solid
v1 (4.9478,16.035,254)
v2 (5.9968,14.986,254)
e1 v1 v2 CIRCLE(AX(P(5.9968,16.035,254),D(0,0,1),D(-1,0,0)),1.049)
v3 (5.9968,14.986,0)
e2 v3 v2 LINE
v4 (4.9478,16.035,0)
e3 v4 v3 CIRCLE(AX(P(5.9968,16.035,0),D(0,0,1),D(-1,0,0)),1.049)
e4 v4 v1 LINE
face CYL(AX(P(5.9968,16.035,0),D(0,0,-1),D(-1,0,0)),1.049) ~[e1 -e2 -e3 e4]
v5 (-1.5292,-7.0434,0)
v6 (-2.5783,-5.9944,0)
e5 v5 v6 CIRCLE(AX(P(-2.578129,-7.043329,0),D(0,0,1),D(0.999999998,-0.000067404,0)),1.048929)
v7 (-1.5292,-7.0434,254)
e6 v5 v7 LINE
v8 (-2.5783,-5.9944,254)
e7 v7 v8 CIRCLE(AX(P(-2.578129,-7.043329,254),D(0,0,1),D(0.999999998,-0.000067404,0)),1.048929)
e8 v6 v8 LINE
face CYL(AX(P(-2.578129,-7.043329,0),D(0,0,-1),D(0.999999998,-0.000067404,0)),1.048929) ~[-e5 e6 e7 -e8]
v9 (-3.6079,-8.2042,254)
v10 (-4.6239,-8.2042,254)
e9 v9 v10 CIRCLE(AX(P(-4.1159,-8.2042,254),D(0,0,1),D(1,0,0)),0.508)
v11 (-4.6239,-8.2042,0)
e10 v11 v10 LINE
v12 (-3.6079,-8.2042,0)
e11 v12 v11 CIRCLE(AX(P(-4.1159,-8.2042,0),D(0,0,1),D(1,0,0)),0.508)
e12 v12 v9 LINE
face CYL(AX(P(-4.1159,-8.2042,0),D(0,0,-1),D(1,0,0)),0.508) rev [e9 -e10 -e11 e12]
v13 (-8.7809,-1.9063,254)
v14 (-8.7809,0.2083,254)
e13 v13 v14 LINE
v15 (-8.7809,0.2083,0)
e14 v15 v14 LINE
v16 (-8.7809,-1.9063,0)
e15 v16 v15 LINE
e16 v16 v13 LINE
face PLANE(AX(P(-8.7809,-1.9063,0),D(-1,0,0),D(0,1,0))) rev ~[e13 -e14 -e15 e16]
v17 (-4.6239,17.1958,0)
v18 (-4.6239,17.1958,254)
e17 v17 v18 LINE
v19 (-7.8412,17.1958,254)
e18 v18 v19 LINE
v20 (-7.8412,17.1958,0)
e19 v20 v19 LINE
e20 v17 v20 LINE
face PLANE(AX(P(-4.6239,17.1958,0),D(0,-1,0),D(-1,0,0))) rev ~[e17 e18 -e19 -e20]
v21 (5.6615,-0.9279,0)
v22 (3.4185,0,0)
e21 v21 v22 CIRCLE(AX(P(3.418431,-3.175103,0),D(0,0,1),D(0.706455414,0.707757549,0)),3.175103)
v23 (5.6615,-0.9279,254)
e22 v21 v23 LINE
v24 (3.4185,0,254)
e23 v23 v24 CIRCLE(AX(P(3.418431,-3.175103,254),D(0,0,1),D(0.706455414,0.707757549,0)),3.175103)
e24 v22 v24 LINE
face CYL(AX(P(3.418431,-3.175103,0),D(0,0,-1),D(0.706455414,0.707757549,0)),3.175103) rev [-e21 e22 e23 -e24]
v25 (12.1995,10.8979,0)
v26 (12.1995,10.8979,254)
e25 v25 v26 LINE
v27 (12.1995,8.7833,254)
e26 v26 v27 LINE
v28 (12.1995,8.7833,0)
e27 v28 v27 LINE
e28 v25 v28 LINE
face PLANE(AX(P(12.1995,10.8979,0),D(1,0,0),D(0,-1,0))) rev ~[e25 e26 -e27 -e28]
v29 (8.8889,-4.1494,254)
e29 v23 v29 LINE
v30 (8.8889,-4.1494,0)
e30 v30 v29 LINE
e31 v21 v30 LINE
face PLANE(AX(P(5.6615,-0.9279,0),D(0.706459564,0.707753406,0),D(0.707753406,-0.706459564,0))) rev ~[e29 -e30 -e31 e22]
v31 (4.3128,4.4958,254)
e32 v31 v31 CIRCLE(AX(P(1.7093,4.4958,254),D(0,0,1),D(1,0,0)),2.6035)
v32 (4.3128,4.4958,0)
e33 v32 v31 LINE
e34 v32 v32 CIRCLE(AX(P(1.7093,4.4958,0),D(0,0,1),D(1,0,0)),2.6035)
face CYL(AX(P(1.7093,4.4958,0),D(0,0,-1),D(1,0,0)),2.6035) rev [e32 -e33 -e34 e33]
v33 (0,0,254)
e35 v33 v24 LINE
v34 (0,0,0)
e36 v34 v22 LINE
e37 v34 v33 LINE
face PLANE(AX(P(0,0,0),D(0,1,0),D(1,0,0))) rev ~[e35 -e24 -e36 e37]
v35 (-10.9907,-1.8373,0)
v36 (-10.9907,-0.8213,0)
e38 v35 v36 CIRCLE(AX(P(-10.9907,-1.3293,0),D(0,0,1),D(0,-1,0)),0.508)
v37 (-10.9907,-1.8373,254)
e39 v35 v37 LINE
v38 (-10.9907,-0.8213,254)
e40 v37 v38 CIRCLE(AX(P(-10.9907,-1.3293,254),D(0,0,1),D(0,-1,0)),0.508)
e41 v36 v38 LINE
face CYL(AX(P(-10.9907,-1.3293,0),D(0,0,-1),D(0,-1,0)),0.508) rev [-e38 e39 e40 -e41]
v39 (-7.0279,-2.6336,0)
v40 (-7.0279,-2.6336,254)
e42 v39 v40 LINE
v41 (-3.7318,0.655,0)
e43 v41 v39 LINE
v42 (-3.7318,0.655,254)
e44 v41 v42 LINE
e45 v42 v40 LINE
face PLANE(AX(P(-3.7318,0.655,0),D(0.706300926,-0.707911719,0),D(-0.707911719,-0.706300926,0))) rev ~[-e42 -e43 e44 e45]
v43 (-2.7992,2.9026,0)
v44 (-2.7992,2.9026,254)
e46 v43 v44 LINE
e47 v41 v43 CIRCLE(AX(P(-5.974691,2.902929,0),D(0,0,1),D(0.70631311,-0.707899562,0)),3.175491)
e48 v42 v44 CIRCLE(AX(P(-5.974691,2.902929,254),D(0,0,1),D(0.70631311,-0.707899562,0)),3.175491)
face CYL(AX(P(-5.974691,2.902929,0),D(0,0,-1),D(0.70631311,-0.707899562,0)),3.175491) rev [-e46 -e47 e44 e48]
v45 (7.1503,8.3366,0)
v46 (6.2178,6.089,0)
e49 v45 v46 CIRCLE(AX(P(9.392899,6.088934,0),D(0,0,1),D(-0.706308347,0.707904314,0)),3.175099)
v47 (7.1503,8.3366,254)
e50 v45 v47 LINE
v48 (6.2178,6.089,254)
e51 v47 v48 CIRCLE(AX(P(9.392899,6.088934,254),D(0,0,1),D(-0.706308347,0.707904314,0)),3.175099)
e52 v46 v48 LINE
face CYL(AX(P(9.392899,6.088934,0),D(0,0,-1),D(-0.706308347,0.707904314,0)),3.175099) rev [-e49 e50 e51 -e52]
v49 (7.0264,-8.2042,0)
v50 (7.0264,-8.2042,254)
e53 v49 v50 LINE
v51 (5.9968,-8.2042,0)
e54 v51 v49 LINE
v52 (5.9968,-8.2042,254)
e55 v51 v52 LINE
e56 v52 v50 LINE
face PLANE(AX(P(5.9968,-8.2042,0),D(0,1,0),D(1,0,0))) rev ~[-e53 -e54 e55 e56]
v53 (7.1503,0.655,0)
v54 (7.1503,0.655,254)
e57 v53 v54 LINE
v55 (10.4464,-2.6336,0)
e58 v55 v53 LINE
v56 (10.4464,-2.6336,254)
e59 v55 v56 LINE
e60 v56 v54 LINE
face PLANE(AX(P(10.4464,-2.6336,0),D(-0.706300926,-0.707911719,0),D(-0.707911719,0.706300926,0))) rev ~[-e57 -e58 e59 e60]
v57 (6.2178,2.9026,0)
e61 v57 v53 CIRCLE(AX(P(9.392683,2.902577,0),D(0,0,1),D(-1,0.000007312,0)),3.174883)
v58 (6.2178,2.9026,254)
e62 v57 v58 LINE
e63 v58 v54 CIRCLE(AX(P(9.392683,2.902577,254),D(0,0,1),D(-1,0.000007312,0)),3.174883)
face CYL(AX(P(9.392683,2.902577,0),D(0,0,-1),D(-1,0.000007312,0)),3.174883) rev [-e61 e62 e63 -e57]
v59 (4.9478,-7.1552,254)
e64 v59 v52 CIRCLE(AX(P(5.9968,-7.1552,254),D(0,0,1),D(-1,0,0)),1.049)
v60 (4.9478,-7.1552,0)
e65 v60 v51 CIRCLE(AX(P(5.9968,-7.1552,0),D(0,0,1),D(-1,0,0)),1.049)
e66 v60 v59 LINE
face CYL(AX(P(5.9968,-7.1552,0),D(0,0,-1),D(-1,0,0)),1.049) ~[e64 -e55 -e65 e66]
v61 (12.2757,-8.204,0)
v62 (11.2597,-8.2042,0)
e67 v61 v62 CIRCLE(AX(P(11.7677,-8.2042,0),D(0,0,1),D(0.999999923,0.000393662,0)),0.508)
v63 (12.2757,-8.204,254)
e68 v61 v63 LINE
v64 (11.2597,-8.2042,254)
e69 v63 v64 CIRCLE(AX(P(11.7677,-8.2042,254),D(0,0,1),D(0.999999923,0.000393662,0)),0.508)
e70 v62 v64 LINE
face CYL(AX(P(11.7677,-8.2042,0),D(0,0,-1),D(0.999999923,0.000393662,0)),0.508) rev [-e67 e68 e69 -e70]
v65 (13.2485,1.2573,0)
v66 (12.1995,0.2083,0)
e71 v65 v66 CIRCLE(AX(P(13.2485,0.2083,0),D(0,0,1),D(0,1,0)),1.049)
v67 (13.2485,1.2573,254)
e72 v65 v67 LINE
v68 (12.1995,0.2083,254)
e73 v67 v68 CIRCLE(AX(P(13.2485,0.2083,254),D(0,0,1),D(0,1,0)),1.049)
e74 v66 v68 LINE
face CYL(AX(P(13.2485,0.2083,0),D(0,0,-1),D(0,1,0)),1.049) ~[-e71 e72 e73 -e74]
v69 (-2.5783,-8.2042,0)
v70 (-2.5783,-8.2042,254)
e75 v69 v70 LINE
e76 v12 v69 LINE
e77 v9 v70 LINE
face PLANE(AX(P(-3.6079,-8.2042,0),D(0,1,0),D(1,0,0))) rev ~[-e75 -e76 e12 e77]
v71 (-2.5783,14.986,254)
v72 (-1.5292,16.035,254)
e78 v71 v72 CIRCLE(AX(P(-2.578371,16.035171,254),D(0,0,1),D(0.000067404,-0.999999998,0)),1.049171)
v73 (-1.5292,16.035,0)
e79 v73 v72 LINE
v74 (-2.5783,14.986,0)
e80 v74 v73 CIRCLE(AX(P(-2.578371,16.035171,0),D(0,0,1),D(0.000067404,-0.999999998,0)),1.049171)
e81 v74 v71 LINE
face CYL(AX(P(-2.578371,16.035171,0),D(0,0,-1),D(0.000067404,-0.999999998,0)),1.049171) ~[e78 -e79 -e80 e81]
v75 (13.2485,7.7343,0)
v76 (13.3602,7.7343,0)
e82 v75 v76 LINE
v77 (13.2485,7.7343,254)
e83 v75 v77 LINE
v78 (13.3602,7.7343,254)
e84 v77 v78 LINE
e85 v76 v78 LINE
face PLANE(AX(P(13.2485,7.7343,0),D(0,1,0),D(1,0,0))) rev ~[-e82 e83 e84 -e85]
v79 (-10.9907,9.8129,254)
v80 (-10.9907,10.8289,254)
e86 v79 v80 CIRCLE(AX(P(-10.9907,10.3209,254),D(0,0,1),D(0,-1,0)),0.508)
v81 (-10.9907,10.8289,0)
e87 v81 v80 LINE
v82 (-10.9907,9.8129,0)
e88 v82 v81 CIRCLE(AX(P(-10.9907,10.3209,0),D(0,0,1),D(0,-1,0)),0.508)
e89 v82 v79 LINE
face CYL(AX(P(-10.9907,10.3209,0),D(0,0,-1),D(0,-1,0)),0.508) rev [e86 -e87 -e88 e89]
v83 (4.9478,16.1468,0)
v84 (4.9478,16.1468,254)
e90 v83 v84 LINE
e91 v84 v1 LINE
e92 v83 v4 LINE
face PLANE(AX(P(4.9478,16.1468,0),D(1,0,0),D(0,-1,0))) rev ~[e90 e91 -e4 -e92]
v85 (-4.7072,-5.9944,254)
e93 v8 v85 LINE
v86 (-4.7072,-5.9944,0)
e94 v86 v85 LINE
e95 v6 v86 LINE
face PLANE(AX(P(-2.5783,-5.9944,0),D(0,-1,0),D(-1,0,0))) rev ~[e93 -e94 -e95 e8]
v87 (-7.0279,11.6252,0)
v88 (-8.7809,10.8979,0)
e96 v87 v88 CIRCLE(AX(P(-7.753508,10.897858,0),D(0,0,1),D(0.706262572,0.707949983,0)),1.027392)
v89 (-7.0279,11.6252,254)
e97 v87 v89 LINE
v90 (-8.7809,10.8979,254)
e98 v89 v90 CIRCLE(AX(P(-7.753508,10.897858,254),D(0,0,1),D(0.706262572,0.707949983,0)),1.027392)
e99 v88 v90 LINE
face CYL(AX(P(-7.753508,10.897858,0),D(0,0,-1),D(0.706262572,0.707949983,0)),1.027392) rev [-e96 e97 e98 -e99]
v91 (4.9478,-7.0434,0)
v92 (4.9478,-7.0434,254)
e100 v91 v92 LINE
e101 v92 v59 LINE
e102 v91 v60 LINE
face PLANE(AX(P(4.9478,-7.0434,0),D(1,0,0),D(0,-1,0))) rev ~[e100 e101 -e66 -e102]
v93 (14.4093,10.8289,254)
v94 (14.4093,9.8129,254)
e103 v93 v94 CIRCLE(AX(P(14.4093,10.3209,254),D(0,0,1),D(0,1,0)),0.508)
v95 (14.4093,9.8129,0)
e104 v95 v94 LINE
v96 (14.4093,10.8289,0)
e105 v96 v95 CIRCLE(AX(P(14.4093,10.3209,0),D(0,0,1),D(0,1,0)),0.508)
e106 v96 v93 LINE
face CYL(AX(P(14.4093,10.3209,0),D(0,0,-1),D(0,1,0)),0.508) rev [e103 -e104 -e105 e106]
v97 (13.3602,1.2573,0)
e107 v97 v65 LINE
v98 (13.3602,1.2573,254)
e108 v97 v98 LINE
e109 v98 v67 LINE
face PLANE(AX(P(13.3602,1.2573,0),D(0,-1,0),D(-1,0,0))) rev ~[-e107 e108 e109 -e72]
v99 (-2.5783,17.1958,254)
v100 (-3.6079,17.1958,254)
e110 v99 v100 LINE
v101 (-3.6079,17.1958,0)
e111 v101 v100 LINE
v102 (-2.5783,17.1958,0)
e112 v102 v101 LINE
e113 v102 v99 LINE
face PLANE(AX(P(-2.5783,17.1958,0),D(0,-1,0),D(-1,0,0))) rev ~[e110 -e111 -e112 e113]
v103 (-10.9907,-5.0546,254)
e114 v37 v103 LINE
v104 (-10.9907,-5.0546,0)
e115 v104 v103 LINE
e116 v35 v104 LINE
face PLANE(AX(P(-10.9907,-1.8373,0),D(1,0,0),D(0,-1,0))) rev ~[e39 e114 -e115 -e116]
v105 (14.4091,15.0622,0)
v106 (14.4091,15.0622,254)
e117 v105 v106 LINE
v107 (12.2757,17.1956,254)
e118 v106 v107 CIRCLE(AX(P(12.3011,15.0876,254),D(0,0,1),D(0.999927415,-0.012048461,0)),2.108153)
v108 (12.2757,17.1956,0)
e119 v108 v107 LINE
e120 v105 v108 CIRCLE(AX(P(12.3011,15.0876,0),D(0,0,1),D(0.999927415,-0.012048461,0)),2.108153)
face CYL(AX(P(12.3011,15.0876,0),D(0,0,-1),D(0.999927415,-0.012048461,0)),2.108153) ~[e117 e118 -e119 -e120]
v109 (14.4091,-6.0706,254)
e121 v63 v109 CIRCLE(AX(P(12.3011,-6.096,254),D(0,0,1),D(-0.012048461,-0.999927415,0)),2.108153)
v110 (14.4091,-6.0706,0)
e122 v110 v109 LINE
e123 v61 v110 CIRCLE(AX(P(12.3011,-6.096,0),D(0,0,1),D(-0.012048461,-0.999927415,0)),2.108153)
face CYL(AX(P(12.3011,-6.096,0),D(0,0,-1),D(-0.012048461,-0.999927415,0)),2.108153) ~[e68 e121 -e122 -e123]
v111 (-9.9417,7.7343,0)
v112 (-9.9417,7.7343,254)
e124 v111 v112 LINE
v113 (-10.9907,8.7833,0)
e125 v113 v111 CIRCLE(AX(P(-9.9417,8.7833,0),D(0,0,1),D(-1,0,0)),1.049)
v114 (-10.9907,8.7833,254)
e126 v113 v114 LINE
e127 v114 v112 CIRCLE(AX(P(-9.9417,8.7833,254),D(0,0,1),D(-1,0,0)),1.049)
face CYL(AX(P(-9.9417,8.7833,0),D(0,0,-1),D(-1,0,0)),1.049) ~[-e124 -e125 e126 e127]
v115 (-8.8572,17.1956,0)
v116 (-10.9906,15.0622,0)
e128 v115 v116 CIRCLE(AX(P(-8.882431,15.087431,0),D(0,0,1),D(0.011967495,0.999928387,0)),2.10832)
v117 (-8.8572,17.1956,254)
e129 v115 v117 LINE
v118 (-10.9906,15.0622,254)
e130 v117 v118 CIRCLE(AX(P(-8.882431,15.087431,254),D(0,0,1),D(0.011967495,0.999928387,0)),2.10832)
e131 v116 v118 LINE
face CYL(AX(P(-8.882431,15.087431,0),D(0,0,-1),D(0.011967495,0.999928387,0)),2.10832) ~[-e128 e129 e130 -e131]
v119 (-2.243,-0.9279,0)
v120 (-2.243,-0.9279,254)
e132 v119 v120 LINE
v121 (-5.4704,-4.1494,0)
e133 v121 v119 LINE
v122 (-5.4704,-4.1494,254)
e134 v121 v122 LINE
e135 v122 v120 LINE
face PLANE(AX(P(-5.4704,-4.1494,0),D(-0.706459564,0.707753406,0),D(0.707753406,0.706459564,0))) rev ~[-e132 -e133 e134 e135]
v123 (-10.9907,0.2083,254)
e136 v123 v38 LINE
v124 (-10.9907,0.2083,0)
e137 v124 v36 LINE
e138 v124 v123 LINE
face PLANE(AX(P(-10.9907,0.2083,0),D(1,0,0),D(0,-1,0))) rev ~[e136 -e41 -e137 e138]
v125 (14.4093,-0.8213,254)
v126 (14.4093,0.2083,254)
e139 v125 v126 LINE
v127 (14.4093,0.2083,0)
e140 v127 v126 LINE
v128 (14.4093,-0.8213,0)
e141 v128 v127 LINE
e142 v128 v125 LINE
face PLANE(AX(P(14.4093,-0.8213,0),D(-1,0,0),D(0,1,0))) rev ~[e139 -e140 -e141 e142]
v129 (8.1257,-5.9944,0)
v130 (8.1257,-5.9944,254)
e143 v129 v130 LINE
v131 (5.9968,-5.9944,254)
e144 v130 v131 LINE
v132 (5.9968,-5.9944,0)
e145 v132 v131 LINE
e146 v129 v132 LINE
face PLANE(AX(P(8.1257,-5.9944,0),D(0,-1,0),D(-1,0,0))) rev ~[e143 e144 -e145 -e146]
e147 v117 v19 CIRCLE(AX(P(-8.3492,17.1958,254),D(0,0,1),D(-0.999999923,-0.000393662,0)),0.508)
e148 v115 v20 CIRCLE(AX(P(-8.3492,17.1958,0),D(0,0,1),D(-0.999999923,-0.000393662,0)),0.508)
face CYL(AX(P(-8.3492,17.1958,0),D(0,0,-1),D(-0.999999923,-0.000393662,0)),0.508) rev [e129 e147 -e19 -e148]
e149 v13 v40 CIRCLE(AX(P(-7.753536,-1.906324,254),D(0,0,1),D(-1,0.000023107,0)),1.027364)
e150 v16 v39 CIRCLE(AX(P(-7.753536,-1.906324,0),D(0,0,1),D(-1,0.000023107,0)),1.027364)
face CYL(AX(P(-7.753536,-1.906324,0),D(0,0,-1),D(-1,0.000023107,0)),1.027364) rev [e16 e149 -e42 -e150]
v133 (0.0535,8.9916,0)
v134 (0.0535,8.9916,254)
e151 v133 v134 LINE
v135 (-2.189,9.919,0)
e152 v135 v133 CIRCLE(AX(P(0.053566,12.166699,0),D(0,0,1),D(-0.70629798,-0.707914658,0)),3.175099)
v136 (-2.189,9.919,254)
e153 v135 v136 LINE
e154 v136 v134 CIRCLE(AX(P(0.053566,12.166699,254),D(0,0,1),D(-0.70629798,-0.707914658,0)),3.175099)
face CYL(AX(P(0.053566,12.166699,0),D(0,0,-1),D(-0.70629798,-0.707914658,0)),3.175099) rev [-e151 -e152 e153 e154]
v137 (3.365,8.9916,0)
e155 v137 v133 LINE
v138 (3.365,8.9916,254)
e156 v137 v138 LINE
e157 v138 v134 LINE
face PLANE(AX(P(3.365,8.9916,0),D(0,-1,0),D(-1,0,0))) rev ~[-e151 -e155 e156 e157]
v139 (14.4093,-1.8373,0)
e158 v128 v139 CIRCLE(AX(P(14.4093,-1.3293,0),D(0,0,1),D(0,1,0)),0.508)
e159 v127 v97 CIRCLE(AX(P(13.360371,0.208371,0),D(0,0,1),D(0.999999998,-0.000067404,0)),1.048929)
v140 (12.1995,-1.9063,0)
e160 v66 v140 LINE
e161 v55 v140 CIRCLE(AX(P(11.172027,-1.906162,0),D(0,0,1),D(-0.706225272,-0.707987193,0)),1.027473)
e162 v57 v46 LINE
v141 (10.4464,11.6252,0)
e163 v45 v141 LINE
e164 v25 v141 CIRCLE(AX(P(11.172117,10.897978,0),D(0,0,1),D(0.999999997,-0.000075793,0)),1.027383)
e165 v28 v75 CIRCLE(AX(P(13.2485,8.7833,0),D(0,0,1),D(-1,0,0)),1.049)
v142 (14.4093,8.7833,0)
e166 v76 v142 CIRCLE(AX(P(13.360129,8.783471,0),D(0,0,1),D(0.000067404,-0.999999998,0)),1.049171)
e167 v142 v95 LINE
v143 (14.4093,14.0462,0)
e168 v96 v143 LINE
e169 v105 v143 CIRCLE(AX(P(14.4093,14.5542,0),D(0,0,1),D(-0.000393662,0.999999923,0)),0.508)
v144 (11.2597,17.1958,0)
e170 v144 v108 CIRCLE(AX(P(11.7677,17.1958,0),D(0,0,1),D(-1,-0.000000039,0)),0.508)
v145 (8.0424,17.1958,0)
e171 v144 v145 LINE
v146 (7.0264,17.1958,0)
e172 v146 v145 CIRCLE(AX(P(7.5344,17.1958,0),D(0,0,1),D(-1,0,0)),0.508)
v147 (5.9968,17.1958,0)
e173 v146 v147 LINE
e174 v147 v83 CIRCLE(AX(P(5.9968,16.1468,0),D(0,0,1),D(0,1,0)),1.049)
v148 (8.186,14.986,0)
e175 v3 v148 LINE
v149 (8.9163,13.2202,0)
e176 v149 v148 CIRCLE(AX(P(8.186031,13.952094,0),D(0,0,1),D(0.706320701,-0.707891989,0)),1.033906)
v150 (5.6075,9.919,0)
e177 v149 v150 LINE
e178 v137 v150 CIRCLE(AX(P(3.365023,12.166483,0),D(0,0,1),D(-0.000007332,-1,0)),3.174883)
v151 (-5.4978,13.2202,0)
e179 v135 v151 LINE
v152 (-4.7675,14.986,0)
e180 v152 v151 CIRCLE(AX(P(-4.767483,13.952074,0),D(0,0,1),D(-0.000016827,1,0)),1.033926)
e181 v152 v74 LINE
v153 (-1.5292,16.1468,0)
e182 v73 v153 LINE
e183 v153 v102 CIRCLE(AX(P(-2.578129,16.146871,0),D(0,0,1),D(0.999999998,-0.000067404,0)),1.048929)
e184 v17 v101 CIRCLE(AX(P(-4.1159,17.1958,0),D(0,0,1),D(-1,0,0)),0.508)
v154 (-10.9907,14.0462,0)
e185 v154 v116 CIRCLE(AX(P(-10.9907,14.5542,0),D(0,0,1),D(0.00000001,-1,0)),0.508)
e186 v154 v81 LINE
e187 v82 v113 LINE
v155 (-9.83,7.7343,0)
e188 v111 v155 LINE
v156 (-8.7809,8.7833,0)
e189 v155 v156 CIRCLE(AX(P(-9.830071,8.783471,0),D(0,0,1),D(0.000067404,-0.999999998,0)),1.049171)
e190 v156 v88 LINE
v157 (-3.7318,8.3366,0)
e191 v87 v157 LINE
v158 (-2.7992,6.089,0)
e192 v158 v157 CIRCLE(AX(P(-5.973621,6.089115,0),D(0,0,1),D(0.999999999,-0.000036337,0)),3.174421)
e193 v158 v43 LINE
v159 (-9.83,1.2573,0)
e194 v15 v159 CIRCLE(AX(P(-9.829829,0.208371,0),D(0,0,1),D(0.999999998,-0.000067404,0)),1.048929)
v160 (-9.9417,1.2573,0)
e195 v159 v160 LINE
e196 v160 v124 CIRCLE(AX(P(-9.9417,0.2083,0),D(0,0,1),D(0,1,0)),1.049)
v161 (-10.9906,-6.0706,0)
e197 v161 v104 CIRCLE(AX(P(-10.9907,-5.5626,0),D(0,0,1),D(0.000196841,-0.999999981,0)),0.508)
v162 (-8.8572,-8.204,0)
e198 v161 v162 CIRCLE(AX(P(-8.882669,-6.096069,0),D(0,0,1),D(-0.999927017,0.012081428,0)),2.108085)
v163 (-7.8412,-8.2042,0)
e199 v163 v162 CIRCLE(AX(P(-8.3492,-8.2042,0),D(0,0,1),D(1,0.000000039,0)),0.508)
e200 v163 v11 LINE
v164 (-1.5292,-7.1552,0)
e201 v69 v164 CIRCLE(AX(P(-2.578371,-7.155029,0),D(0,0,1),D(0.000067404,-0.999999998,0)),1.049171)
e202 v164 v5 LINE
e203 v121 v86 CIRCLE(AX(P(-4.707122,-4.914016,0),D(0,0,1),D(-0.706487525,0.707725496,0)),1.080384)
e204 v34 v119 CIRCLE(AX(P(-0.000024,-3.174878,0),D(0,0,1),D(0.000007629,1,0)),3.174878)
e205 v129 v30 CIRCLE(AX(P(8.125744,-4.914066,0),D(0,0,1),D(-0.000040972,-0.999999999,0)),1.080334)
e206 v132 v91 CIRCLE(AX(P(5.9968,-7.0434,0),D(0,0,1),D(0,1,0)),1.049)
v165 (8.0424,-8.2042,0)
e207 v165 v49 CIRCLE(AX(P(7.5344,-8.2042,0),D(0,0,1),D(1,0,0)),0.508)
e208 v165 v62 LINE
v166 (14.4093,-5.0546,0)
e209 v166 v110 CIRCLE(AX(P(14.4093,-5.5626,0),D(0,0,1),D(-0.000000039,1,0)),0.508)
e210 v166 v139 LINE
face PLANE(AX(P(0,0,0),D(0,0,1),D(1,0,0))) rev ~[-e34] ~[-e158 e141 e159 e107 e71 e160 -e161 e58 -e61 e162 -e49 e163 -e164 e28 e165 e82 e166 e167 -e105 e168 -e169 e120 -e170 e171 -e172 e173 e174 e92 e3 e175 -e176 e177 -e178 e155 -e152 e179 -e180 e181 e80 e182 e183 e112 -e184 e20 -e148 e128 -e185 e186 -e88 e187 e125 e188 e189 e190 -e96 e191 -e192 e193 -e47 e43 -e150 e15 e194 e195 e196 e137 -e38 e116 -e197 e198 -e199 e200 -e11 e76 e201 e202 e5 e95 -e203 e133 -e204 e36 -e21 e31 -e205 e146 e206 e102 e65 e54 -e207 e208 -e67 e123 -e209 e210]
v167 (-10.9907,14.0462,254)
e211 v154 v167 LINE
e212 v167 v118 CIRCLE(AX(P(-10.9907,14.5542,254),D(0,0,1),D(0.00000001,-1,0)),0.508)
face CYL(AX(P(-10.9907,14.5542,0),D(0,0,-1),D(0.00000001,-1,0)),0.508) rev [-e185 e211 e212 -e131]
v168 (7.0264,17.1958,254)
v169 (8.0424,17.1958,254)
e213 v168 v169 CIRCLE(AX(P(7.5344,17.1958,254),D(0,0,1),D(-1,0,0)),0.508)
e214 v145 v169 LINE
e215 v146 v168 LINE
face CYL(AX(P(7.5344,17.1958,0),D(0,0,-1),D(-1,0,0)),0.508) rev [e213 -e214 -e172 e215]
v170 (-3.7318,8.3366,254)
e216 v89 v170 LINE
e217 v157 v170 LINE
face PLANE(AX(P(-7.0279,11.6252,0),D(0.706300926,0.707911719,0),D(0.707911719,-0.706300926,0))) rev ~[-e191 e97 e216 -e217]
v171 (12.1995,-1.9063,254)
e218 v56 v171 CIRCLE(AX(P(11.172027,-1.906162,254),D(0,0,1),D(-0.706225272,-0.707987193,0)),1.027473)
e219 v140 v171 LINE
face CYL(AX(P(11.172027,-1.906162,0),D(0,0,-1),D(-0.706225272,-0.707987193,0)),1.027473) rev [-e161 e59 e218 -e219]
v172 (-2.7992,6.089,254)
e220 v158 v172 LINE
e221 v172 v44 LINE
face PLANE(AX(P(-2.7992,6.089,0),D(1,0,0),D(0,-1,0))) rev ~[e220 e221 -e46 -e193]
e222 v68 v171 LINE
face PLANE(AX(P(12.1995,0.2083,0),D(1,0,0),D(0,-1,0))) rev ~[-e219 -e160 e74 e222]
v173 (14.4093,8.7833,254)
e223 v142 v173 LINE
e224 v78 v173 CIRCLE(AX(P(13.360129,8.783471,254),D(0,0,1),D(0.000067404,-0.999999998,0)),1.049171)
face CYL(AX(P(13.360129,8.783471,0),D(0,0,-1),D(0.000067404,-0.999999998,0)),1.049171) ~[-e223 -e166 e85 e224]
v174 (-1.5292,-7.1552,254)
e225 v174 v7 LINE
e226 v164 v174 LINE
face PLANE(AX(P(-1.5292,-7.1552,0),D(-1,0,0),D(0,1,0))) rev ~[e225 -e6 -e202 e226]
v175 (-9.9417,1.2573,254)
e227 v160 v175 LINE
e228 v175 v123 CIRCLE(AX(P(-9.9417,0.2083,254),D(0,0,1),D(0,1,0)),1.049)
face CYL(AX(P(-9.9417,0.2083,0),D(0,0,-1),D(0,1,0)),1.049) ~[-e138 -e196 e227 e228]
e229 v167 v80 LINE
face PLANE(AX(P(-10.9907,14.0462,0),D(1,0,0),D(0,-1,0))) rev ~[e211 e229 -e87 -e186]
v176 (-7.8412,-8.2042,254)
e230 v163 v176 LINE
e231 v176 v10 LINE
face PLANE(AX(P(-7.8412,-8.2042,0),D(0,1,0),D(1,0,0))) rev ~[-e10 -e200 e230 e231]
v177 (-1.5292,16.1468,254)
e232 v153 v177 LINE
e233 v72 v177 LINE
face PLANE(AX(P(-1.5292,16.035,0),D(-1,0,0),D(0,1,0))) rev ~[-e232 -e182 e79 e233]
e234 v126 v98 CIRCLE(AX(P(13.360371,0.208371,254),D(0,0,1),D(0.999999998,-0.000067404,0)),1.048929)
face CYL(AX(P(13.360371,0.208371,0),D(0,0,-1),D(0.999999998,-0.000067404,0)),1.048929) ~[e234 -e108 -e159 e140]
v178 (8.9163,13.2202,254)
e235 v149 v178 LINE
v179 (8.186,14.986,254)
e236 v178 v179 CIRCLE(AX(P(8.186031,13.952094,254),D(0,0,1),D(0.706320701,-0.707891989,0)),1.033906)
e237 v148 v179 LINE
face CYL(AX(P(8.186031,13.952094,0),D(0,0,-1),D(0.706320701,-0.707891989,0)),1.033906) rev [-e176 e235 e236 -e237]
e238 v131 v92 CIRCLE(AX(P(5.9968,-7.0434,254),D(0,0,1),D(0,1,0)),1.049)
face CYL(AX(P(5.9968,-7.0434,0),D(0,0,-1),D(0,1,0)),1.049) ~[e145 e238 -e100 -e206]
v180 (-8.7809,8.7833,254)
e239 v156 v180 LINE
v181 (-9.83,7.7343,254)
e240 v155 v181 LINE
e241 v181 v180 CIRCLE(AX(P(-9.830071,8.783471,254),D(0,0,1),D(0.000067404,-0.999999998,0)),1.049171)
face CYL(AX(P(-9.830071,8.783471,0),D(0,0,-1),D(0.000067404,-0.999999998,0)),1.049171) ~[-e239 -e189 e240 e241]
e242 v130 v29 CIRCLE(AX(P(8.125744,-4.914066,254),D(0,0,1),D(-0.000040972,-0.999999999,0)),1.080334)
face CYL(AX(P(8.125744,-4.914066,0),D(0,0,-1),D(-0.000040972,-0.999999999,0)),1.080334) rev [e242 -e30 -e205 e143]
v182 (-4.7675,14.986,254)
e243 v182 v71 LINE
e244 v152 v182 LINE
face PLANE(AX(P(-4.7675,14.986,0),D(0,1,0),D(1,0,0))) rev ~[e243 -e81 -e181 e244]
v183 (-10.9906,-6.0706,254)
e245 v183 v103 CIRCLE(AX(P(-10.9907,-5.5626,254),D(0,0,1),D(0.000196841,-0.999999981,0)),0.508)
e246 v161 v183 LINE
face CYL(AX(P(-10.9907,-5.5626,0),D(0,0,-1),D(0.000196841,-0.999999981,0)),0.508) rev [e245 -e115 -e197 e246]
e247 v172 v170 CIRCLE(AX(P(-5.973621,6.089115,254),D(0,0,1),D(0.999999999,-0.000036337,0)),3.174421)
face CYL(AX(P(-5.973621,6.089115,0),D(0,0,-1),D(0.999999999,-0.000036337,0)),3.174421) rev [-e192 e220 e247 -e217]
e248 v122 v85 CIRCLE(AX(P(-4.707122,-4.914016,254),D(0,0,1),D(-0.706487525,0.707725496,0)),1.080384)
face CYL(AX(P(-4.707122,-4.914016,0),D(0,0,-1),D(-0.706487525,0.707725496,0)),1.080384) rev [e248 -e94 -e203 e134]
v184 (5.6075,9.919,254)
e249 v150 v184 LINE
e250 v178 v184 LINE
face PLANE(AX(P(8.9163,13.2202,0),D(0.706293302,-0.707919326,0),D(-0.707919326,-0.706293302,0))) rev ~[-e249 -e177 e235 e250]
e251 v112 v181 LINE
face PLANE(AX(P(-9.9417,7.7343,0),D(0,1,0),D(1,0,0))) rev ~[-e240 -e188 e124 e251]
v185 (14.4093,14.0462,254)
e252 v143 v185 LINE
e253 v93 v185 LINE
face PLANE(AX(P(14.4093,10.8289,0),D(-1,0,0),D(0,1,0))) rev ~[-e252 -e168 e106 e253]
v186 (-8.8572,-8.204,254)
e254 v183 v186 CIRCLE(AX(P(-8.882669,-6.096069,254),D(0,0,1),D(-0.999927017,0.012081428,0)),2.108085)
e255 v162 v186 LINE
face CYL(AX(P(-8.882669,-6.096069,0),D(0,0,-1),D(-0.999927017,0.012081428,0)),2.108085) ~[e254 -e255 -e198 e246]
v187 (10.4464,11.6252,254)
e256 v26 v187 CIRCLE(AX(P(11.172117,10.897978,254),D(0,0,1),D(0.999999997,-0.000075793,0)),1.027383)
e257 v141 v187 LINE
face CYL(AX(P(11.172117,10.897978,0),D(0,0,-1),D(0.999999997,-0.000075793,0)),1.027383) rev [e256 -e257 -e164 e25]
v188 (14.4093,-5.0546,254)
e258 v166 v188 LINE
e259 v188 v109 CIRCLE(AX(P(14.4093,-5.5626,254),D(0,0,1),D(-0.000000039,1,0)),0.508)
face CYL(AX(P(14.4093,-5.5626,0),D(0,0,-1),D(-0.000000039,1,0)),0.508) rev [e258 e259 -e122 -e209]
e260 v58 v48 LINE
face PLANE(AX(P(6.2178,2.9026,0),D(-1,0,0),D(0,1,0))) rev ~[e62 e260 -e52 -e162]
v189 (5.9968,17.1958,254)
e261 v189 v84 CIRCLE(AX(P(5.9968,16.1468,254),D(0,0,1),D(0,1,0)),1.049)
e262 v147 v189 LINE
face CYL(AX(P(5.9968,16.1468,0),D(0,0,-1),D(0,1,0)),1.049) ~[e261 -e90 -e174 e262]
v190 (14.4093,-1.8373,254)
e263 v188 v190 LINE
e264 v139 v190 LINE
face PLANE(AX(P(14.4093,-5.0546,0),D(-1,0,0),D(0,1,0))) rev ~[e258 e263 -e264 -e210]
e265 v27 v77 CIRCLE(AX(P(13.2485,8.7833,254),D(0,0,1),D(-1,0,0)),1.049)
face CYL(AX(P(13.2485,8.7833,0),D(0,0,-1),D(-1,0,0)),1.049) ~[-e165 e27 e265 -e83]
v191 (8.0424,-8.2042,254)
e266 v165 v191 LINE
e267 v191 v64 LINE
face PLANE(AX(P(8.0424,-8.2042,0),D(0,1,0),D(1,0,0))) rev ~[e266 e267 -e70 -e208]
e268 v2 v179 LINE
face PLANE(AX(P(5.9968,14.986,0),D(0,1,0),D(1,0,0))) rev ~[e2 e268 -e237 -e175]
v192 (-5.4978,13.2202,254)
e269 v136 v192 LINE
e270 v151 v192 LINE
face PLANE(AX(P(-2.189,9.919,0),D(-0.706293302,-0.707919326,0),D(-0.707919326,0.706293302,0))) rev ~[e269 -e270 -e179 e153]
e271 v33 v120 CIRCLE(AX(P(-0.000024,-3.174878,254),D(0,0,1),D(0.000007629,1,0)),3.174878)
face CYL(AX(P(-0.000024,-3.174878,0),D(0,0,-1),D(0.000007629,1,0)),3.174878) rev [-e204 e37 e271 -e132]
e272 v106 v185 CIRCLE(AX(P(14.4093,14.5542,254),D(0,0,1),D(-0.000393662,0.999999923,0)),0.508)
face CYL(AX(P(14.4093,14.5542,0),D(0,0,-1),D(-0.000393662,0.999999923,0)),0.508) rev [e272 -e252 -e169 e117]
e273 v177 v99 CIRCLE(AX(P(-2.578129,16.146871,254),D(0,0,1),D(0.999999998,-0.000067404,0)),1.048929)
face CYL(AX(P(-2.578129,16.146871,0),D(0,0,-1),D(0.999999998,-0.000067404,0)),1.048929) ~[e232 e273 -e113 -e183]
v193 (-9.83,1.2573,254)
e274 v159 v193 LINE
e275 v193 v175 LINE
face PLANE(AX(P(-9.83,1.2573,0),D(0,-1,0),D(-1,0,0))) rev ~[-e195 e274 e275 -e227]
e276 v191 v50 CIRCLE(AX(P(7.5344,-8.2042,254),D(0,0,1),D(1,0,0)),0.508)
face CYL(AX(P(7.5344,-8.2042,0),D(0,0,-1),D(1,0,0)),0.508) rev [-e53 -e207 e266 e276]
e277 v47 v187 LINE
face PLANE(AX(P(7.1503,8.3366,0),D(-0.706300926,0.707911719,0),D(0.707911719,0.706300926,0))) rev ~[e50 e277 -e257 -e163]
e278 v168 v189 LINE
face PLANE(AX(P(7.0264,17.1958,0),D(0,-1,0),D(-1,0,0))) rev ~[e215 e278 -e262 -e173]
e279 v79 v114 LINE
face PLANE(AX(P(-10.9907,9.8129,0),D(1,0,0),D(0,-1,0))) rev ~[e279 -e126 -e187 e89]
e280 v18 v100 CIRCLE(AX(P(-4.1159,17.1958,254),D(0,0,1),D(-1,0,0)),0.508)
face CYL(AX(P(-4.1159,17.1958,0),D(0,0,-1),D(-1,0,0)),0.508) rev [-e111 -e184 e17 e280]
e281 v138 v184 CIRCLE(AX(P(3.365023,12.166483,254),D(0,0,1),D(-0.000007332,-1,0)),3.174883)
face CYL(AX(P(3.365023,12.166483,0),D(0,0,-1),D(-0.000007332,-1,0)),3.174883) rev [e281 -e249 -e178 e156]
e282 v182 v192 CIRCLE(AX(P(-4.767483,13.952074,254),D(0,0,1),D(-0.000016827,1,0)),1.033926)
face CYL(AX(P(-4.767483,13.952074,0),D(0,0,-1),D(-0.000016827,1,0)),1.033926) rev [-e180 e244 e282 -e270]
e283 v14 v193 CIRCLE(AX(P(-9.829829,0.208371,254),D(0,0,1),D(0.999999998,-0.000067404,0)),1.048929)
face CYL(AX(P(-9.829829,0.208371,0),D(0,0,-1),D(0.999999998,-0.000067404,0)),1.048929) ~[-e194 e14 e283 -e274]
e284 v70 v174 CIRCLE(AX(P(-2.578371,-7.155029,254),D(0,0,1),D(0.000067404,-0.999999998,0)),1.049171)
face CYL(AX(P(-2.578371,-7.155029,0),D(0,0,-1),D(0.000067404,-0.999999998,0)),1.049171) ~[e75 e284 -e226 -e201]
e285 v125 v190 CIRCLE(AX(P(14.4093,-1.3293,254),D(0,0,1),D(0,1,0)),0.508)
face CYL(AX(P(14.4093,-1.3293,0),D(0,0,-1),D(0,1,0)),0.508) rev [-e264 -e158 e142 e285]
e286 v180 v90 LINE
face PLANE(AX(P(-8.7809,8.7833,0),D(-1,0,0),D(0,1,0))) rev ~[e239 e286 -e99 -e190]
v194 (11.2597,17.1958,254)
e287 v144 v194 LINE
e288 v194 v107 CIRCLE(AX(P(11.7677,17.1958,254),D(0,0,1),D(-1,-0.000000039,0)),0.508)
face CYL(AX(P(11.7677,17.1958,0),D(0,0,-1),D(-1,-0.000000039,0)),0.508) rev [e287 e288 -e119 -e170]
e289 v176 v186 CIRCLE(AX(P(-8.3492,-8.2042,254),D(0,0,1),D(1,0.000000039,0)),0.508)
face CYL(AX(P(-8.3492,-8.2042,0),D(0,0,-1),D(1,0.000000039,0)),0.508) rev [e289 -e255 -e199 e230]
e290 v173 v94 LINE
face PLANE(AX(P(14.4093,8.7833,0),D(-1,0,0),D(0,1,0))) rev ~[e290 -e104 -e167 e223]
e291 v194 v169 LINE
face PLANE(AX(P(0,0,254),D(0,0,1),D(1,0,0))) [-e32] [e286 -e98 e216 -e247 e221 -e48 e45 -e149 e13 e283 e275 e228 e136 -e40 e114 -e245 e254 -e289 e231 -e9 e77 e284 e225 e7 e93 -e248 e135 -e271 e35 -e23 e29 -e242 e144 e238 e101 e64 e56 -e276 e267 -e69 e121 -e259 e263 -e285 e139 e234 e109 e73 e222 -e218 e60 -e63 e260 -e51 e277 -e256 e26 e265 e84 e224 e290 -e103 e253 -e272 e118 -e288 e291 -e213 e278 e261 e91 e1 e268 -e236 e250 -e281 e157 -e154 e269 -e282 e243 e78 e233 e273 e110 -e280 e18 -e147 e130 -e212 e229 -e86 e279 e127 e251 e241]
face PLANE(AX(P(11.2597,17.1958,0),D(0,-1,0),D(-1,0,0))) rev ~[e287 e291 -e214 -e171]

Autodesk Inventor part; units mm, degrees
ref_plane "YZ Plane" through (0, 0, 0) normal (1, 0, 0) x (0, 1, 0)
ref_plane "XZ Plane" through (0, 0, 0) normal (0, 1, 0) x (-1, 0, 0)
ref_plane "XY Plane" through (0, 0, 0) normal (0, 0, 1) x (1, 0, 0)
sketch "Sketch1" plane through (0, 0, 0) normal (0, 0, 1) x (1, 0, 0)
  arc A0 (-5.4704, -4.1494) -> (-4.7072, -5.9944) centre (-4.7072, -4.914) ccw
  line L0 (-5.4704, -4.1494) -> (-2.243, -0.9279)
  arc A1 (0, 0) -> (-2.243, -0.9279) centre (0, -3.175) ccw
  line L1 (0, 0) -> (3.4185, 0)
  arc A2 (5.6615, -0.9279) -> (3.4185, 0) centre (3.4185, -3.175) ccw
  line L2 (5.6615, -0.9279) -> (8.8889, -4.1494)
  arc A3 (8.1257, -5.9944) -> (8.8889, -4.1494) centre (8.1257, -4.914) ccw
  line L3 (8.1257, -5.9944) -> (5.9968, -5.9944)
  arc A4 (5.9968, -5.9944) -> (4.9478, -7.0434) centre (5.9968, -7.0434) ccw
  line L4 (4.9478, -7.0434) -> (4.9478, -7.1552)
  arc A5 (4.9478, -7.1552) -> (5.9968, -8.2042) centre (5.9968, -7.1552) ccw
  line L5 (5.9968, -8.2042) -> (7.0264, -8.2042)
  arc A6 (8.0424, -8.2042) -> (7.0264, -8.2042) centre (7.5344, -8.2042) ccw
  line L6 (8.0424, -8.2042) -> (11.2597, -8.2042)
  arc A7 (12.2757, -8.204) -> (11.2597, -8.2042) centre (11.7677, -8.2042) ccw
  arc A8 (12.2757, -8.204) -> (14.4091, -6.0706) centre (12.3011, -6.096) ccw
  arc A9 (14.4093, -5.0546) -> (14.4091, -6.0706) centre (14.4093, -5.5626) ccw
  line L7 (14.4093, -5.0546) -> (14.4093, -1.8373)
  arc A10 (14.4093, -0.8213) -> (14.4093, -1.8373) centre (14.4093, -1.3293) ccw
  line L8 (14.4093, -0.8213) -> (14.4093, 0.2083)
  arc A11 (14.4093, 0.2083) -> (13.3602, 1.2573) centre (13.3602, 0.2083) ccw
  line L9 (13.3602, 1.2573) -> (13.2485, 1.2573)
  arc A12 (13.2485, 1.2573) -> (12.1995, 0.2083) centre (13.2485, 0.2083) ccw
  line L10 (12.1995, 0.2083) -> (12.1995, -1.9063)
  arc A13 (10.4464, -2.6336) -> (12.1995, -1.9063) centre (11.172, -1.9063) ccw
  line L11 (10.4464, -2.6336) -> (7.1503, 0.655)
  arc A14 (6.2178, 2.9026) -> (7.1503, 0.655) centre (9.3928, 2.9026) ccw
  line L12 (6.2178, 2.9026) -> (6.2178, 6.089)
  arc A15 (7.1503, 8.3366) -> (6.2178, 6.089) centre (9.3928, 6.089) ccw
  line L13 (7.1503, 8.3366) -> (10.4464, 11.6252)
  arc A16 (12.1995, 10.8979) -> (10.4464, 11.6252) centre (11.172, 10.8979) ccw
  line L14 (12.1995, 10.8979) -> (12.1995, 8.7833)
  arc A17 (12.1995, 8.7833) -> (13.2485, 7.7343) centre (13.2485, 8.7833) ccw
  line L15 (13.2485, 7.7343) -> (13.3602, 7.7343)
  arc A18 (13.3602, 7.7343) -> (14.4093, 8.7833) centre (13.3602, 8.7833) ccw
  line L16 (14.4093, 8.7833) -> (14.4093, 9.8129)
  arc A19 (14.4093, 10.8289) -> (14.4093, 9.8129) centre (14.4093, 10.3209) ccw
  line L17 (14.4093, 10.8289) -> (14.4093, 14.0462)
  arc A20 (14.4091, 15.0622) -> (14.4093, 14.0462) centre (14.4093, 14.5542) ccw
  arc A21 (14.4091, 15.0622) -> (12.2757, 17.1956) centre (12.3011, 15.0876) ccw
  arc A22 (11.2597, 17.1958) -> (12.2757, 17.1956) centre (11.7677, 17.1958) ccw
  line L18 (11.2597, 17.1958) -> (8.0424, 17.1958)
  arc A23 (7.0264, 17.1958) -> (8.0424, 17.1958) centre (7.5344, 17.1958) ccw
  line L19 (7.0264, 17.1958) -> (5.9968, 17.1958)
  arc A24 (5.9968, 17.1958) -> (4.9478, 16.1468) centre (5.9968, 16.1468) ccw
  line L20 (4.9478, 16.1468) -> (4.9478, 16.035)
  arc A25 (4.9478, 16.035) -> (5.9968, 14.986) centre (5.9968, 16.035) ccw
  line L21 (5.9968, 14.986) -> (8.186, 14.986)
  arc A26 (8.9163, 13.2202) -> (8.186, 14.986) centre (8.186, 13.9521) ccw
  line L22 (8.9163, 13.2202) -> (5.6075, 9.919)
  arc A27 (3.365, 8.9916) -> (5.6075, 9.919) centre (3.365, 12.1666) ccw
  line L23 (3.365, 8.9916) -> (0.0535, 8.9916)
  arc A28 (-2.189, 9.919) -> (0.0535, 8.9916) centre (0.0535, 12.1666) ccw
  line L24 (-2.189, 9.919) -> (-5.4978, 13.2202)
  arc A29 (-4.7675, 14.986) -> (-5.4978, 13.2202) centre (-4.7675, 13.9521) ccw
  line L25 (-4.7675, 14.986) -> (-2.5783, 14.986)
  arc A30 (-2.5783, 14.986) -> (-1.5292, 16.035) centre (-2.5783, 16.035) ccw
  line L26 (-1.5292, 16.035) -> (-1.5292, 16.1468)
  arc A31 (-1.5292, 16.1468) -> (-2.5783, 17.1958) centre (-2.5783, 16.1468) ccw
  line L27 (-2.5783, 17.1958) -> (-3.6079, 17.1958)
  arc A32 (-4.6239, 17.1958) -> (-3.6079, 17.1958) centre (-4.1159, 17.1958) ccw
  line L28 (-4.6239, 17.1958) -> (-7.8412, 17.1958)
  arc A33 (-8.8572, 17.1956) -> (-7.8412, 17.1958) centre (-8.3492, 17.1958) ccw
  arc A34 (-8.8572, 17.1956) -> (-10.9906, 15.0622) centre (-8.8825, 15.0876) ccw
  arc A35 (-10.9907, 14.0462) -> (-10.9906, 15.0622) centre (-10.9907, 14.5542) ccw
  line L29 (-10.9907, 14.0462) -> (-10.9907, 10.8289)
  arc A36 (-10.9907, 9.8129) -> (-10.9907, 10.8289) centre (-10.9907, 10.3209) ccw
  line L30 (-10.9907, 9.8129) -> (-10.9907, 8.7833)
  arc A37 (-10.9907, 8.7833) -> (-9.9417, 7.7343) centre (-9.9417, 8.7833) ccw
  line L31 (-9.9417, 7.7343) -> (-9.83, 7.7343)
  arc A38 (-9.83, 7.7343) -> (-8.7809, 8.7833) centre (-9.83, 8.7833) ccw
  line L32 (-8.7809, 8.7833) -> (-8.7809, 10.8979)
  arc A39 (-7.0279, 11.6252) -> (-8.7809, 10.8979) centre (-7.7535, 10.8979) ccw
  line L33 (-7.0279, 11.6252) -> (-3.7318, 8.3366)
  arc A40 (-2.7992, 6.089) -> (-3.7318, 8.3366) centre (-5.9742, 6.089) ccw
  line L34 (-2.7992, 6.089) -> (-2.7992, 2.9026)
  arc A41 (-3.7318, 0.655) -> (-2.7992, 2.9026) centre (-5.9742, 2.9026) ccw
  line L35 (-3.7318, 0.655) -> (-7.0279, -2.6336)
  arc A42 (-8.7809, -1.9063) -> (-7.0279, -2.6336) centre (-7.7535, -1.9063) ccw
  line L36 (-8.7809, -1.9063) -> (-8.7809, 0.2083)
  arc A43 (-8.7809, 0.2083) -> (-9.83, 1.2573) centre (-9.83, 0.2083) ccw
  line L37 (-9.83, 1.2573) -> (-9.9417, 1.2573)
  arc A44 (-9.9417, 1.2573) -> (-10.9907, 0.2083) centre (-9.9417, 0.2083) ccw
  line L38 (-10.9907, 0.2083) -> (-10.9907, -0.8213)
  arc A45 (-10.9907, -1.8373) -> (-10.9907, -0.8213) centre (-10.9907, -1.3293) ccw
  line L39 (-10.9907, -1.8373) -> (-10.9907, -5.0546)
  arc A46 (-10.9906, -6.0706) -> (-10.9907, -5.0546) centre (-10.9907, -5.5626) ccw
  arc A47 (-10.9906, -6.0706) -> (-8.8572, -8.204) centre (-8.8825, -6.096) ccw
  arc A48 (-7.8412, -8.2042) -> (-8.8572, -8.204) centre (-8.3492, -8.2042) ccw
  line L40 (-7.8412, -8.2042) -> (-4.6239, -8.2042)
  arc A49 (-3.6079, -8.2042) -> (-4.6239, -8.2042) centre (-4.1159, -8.2042) ccw
  line L41 (-3.6079, -8.2042) -> (-2.5783, -8.2042)
  arc A50 (-2.5783, -8.2042) -> (-1.5292, -7.1552) centre (-2.5783, -7.1552) ccw
  line L42 (-1.5292, -7.1552) -> (-1.5292, -7.0434)
  arc A51 (-1.5292, -7.0434) -> (-2.5783, -5.9944) centre (-2.5783, -7.0434) ccw
  line L43 (-2.5783, -5.9944) -> (-4.7072, -5.9944)
  circle A52 centre (1.7093, 4.4958) radius 2.6035
extrude "Extrusion1" add sketch "Sketch1" along normal blind 254
properties part number "10in 1x1 T slot"
